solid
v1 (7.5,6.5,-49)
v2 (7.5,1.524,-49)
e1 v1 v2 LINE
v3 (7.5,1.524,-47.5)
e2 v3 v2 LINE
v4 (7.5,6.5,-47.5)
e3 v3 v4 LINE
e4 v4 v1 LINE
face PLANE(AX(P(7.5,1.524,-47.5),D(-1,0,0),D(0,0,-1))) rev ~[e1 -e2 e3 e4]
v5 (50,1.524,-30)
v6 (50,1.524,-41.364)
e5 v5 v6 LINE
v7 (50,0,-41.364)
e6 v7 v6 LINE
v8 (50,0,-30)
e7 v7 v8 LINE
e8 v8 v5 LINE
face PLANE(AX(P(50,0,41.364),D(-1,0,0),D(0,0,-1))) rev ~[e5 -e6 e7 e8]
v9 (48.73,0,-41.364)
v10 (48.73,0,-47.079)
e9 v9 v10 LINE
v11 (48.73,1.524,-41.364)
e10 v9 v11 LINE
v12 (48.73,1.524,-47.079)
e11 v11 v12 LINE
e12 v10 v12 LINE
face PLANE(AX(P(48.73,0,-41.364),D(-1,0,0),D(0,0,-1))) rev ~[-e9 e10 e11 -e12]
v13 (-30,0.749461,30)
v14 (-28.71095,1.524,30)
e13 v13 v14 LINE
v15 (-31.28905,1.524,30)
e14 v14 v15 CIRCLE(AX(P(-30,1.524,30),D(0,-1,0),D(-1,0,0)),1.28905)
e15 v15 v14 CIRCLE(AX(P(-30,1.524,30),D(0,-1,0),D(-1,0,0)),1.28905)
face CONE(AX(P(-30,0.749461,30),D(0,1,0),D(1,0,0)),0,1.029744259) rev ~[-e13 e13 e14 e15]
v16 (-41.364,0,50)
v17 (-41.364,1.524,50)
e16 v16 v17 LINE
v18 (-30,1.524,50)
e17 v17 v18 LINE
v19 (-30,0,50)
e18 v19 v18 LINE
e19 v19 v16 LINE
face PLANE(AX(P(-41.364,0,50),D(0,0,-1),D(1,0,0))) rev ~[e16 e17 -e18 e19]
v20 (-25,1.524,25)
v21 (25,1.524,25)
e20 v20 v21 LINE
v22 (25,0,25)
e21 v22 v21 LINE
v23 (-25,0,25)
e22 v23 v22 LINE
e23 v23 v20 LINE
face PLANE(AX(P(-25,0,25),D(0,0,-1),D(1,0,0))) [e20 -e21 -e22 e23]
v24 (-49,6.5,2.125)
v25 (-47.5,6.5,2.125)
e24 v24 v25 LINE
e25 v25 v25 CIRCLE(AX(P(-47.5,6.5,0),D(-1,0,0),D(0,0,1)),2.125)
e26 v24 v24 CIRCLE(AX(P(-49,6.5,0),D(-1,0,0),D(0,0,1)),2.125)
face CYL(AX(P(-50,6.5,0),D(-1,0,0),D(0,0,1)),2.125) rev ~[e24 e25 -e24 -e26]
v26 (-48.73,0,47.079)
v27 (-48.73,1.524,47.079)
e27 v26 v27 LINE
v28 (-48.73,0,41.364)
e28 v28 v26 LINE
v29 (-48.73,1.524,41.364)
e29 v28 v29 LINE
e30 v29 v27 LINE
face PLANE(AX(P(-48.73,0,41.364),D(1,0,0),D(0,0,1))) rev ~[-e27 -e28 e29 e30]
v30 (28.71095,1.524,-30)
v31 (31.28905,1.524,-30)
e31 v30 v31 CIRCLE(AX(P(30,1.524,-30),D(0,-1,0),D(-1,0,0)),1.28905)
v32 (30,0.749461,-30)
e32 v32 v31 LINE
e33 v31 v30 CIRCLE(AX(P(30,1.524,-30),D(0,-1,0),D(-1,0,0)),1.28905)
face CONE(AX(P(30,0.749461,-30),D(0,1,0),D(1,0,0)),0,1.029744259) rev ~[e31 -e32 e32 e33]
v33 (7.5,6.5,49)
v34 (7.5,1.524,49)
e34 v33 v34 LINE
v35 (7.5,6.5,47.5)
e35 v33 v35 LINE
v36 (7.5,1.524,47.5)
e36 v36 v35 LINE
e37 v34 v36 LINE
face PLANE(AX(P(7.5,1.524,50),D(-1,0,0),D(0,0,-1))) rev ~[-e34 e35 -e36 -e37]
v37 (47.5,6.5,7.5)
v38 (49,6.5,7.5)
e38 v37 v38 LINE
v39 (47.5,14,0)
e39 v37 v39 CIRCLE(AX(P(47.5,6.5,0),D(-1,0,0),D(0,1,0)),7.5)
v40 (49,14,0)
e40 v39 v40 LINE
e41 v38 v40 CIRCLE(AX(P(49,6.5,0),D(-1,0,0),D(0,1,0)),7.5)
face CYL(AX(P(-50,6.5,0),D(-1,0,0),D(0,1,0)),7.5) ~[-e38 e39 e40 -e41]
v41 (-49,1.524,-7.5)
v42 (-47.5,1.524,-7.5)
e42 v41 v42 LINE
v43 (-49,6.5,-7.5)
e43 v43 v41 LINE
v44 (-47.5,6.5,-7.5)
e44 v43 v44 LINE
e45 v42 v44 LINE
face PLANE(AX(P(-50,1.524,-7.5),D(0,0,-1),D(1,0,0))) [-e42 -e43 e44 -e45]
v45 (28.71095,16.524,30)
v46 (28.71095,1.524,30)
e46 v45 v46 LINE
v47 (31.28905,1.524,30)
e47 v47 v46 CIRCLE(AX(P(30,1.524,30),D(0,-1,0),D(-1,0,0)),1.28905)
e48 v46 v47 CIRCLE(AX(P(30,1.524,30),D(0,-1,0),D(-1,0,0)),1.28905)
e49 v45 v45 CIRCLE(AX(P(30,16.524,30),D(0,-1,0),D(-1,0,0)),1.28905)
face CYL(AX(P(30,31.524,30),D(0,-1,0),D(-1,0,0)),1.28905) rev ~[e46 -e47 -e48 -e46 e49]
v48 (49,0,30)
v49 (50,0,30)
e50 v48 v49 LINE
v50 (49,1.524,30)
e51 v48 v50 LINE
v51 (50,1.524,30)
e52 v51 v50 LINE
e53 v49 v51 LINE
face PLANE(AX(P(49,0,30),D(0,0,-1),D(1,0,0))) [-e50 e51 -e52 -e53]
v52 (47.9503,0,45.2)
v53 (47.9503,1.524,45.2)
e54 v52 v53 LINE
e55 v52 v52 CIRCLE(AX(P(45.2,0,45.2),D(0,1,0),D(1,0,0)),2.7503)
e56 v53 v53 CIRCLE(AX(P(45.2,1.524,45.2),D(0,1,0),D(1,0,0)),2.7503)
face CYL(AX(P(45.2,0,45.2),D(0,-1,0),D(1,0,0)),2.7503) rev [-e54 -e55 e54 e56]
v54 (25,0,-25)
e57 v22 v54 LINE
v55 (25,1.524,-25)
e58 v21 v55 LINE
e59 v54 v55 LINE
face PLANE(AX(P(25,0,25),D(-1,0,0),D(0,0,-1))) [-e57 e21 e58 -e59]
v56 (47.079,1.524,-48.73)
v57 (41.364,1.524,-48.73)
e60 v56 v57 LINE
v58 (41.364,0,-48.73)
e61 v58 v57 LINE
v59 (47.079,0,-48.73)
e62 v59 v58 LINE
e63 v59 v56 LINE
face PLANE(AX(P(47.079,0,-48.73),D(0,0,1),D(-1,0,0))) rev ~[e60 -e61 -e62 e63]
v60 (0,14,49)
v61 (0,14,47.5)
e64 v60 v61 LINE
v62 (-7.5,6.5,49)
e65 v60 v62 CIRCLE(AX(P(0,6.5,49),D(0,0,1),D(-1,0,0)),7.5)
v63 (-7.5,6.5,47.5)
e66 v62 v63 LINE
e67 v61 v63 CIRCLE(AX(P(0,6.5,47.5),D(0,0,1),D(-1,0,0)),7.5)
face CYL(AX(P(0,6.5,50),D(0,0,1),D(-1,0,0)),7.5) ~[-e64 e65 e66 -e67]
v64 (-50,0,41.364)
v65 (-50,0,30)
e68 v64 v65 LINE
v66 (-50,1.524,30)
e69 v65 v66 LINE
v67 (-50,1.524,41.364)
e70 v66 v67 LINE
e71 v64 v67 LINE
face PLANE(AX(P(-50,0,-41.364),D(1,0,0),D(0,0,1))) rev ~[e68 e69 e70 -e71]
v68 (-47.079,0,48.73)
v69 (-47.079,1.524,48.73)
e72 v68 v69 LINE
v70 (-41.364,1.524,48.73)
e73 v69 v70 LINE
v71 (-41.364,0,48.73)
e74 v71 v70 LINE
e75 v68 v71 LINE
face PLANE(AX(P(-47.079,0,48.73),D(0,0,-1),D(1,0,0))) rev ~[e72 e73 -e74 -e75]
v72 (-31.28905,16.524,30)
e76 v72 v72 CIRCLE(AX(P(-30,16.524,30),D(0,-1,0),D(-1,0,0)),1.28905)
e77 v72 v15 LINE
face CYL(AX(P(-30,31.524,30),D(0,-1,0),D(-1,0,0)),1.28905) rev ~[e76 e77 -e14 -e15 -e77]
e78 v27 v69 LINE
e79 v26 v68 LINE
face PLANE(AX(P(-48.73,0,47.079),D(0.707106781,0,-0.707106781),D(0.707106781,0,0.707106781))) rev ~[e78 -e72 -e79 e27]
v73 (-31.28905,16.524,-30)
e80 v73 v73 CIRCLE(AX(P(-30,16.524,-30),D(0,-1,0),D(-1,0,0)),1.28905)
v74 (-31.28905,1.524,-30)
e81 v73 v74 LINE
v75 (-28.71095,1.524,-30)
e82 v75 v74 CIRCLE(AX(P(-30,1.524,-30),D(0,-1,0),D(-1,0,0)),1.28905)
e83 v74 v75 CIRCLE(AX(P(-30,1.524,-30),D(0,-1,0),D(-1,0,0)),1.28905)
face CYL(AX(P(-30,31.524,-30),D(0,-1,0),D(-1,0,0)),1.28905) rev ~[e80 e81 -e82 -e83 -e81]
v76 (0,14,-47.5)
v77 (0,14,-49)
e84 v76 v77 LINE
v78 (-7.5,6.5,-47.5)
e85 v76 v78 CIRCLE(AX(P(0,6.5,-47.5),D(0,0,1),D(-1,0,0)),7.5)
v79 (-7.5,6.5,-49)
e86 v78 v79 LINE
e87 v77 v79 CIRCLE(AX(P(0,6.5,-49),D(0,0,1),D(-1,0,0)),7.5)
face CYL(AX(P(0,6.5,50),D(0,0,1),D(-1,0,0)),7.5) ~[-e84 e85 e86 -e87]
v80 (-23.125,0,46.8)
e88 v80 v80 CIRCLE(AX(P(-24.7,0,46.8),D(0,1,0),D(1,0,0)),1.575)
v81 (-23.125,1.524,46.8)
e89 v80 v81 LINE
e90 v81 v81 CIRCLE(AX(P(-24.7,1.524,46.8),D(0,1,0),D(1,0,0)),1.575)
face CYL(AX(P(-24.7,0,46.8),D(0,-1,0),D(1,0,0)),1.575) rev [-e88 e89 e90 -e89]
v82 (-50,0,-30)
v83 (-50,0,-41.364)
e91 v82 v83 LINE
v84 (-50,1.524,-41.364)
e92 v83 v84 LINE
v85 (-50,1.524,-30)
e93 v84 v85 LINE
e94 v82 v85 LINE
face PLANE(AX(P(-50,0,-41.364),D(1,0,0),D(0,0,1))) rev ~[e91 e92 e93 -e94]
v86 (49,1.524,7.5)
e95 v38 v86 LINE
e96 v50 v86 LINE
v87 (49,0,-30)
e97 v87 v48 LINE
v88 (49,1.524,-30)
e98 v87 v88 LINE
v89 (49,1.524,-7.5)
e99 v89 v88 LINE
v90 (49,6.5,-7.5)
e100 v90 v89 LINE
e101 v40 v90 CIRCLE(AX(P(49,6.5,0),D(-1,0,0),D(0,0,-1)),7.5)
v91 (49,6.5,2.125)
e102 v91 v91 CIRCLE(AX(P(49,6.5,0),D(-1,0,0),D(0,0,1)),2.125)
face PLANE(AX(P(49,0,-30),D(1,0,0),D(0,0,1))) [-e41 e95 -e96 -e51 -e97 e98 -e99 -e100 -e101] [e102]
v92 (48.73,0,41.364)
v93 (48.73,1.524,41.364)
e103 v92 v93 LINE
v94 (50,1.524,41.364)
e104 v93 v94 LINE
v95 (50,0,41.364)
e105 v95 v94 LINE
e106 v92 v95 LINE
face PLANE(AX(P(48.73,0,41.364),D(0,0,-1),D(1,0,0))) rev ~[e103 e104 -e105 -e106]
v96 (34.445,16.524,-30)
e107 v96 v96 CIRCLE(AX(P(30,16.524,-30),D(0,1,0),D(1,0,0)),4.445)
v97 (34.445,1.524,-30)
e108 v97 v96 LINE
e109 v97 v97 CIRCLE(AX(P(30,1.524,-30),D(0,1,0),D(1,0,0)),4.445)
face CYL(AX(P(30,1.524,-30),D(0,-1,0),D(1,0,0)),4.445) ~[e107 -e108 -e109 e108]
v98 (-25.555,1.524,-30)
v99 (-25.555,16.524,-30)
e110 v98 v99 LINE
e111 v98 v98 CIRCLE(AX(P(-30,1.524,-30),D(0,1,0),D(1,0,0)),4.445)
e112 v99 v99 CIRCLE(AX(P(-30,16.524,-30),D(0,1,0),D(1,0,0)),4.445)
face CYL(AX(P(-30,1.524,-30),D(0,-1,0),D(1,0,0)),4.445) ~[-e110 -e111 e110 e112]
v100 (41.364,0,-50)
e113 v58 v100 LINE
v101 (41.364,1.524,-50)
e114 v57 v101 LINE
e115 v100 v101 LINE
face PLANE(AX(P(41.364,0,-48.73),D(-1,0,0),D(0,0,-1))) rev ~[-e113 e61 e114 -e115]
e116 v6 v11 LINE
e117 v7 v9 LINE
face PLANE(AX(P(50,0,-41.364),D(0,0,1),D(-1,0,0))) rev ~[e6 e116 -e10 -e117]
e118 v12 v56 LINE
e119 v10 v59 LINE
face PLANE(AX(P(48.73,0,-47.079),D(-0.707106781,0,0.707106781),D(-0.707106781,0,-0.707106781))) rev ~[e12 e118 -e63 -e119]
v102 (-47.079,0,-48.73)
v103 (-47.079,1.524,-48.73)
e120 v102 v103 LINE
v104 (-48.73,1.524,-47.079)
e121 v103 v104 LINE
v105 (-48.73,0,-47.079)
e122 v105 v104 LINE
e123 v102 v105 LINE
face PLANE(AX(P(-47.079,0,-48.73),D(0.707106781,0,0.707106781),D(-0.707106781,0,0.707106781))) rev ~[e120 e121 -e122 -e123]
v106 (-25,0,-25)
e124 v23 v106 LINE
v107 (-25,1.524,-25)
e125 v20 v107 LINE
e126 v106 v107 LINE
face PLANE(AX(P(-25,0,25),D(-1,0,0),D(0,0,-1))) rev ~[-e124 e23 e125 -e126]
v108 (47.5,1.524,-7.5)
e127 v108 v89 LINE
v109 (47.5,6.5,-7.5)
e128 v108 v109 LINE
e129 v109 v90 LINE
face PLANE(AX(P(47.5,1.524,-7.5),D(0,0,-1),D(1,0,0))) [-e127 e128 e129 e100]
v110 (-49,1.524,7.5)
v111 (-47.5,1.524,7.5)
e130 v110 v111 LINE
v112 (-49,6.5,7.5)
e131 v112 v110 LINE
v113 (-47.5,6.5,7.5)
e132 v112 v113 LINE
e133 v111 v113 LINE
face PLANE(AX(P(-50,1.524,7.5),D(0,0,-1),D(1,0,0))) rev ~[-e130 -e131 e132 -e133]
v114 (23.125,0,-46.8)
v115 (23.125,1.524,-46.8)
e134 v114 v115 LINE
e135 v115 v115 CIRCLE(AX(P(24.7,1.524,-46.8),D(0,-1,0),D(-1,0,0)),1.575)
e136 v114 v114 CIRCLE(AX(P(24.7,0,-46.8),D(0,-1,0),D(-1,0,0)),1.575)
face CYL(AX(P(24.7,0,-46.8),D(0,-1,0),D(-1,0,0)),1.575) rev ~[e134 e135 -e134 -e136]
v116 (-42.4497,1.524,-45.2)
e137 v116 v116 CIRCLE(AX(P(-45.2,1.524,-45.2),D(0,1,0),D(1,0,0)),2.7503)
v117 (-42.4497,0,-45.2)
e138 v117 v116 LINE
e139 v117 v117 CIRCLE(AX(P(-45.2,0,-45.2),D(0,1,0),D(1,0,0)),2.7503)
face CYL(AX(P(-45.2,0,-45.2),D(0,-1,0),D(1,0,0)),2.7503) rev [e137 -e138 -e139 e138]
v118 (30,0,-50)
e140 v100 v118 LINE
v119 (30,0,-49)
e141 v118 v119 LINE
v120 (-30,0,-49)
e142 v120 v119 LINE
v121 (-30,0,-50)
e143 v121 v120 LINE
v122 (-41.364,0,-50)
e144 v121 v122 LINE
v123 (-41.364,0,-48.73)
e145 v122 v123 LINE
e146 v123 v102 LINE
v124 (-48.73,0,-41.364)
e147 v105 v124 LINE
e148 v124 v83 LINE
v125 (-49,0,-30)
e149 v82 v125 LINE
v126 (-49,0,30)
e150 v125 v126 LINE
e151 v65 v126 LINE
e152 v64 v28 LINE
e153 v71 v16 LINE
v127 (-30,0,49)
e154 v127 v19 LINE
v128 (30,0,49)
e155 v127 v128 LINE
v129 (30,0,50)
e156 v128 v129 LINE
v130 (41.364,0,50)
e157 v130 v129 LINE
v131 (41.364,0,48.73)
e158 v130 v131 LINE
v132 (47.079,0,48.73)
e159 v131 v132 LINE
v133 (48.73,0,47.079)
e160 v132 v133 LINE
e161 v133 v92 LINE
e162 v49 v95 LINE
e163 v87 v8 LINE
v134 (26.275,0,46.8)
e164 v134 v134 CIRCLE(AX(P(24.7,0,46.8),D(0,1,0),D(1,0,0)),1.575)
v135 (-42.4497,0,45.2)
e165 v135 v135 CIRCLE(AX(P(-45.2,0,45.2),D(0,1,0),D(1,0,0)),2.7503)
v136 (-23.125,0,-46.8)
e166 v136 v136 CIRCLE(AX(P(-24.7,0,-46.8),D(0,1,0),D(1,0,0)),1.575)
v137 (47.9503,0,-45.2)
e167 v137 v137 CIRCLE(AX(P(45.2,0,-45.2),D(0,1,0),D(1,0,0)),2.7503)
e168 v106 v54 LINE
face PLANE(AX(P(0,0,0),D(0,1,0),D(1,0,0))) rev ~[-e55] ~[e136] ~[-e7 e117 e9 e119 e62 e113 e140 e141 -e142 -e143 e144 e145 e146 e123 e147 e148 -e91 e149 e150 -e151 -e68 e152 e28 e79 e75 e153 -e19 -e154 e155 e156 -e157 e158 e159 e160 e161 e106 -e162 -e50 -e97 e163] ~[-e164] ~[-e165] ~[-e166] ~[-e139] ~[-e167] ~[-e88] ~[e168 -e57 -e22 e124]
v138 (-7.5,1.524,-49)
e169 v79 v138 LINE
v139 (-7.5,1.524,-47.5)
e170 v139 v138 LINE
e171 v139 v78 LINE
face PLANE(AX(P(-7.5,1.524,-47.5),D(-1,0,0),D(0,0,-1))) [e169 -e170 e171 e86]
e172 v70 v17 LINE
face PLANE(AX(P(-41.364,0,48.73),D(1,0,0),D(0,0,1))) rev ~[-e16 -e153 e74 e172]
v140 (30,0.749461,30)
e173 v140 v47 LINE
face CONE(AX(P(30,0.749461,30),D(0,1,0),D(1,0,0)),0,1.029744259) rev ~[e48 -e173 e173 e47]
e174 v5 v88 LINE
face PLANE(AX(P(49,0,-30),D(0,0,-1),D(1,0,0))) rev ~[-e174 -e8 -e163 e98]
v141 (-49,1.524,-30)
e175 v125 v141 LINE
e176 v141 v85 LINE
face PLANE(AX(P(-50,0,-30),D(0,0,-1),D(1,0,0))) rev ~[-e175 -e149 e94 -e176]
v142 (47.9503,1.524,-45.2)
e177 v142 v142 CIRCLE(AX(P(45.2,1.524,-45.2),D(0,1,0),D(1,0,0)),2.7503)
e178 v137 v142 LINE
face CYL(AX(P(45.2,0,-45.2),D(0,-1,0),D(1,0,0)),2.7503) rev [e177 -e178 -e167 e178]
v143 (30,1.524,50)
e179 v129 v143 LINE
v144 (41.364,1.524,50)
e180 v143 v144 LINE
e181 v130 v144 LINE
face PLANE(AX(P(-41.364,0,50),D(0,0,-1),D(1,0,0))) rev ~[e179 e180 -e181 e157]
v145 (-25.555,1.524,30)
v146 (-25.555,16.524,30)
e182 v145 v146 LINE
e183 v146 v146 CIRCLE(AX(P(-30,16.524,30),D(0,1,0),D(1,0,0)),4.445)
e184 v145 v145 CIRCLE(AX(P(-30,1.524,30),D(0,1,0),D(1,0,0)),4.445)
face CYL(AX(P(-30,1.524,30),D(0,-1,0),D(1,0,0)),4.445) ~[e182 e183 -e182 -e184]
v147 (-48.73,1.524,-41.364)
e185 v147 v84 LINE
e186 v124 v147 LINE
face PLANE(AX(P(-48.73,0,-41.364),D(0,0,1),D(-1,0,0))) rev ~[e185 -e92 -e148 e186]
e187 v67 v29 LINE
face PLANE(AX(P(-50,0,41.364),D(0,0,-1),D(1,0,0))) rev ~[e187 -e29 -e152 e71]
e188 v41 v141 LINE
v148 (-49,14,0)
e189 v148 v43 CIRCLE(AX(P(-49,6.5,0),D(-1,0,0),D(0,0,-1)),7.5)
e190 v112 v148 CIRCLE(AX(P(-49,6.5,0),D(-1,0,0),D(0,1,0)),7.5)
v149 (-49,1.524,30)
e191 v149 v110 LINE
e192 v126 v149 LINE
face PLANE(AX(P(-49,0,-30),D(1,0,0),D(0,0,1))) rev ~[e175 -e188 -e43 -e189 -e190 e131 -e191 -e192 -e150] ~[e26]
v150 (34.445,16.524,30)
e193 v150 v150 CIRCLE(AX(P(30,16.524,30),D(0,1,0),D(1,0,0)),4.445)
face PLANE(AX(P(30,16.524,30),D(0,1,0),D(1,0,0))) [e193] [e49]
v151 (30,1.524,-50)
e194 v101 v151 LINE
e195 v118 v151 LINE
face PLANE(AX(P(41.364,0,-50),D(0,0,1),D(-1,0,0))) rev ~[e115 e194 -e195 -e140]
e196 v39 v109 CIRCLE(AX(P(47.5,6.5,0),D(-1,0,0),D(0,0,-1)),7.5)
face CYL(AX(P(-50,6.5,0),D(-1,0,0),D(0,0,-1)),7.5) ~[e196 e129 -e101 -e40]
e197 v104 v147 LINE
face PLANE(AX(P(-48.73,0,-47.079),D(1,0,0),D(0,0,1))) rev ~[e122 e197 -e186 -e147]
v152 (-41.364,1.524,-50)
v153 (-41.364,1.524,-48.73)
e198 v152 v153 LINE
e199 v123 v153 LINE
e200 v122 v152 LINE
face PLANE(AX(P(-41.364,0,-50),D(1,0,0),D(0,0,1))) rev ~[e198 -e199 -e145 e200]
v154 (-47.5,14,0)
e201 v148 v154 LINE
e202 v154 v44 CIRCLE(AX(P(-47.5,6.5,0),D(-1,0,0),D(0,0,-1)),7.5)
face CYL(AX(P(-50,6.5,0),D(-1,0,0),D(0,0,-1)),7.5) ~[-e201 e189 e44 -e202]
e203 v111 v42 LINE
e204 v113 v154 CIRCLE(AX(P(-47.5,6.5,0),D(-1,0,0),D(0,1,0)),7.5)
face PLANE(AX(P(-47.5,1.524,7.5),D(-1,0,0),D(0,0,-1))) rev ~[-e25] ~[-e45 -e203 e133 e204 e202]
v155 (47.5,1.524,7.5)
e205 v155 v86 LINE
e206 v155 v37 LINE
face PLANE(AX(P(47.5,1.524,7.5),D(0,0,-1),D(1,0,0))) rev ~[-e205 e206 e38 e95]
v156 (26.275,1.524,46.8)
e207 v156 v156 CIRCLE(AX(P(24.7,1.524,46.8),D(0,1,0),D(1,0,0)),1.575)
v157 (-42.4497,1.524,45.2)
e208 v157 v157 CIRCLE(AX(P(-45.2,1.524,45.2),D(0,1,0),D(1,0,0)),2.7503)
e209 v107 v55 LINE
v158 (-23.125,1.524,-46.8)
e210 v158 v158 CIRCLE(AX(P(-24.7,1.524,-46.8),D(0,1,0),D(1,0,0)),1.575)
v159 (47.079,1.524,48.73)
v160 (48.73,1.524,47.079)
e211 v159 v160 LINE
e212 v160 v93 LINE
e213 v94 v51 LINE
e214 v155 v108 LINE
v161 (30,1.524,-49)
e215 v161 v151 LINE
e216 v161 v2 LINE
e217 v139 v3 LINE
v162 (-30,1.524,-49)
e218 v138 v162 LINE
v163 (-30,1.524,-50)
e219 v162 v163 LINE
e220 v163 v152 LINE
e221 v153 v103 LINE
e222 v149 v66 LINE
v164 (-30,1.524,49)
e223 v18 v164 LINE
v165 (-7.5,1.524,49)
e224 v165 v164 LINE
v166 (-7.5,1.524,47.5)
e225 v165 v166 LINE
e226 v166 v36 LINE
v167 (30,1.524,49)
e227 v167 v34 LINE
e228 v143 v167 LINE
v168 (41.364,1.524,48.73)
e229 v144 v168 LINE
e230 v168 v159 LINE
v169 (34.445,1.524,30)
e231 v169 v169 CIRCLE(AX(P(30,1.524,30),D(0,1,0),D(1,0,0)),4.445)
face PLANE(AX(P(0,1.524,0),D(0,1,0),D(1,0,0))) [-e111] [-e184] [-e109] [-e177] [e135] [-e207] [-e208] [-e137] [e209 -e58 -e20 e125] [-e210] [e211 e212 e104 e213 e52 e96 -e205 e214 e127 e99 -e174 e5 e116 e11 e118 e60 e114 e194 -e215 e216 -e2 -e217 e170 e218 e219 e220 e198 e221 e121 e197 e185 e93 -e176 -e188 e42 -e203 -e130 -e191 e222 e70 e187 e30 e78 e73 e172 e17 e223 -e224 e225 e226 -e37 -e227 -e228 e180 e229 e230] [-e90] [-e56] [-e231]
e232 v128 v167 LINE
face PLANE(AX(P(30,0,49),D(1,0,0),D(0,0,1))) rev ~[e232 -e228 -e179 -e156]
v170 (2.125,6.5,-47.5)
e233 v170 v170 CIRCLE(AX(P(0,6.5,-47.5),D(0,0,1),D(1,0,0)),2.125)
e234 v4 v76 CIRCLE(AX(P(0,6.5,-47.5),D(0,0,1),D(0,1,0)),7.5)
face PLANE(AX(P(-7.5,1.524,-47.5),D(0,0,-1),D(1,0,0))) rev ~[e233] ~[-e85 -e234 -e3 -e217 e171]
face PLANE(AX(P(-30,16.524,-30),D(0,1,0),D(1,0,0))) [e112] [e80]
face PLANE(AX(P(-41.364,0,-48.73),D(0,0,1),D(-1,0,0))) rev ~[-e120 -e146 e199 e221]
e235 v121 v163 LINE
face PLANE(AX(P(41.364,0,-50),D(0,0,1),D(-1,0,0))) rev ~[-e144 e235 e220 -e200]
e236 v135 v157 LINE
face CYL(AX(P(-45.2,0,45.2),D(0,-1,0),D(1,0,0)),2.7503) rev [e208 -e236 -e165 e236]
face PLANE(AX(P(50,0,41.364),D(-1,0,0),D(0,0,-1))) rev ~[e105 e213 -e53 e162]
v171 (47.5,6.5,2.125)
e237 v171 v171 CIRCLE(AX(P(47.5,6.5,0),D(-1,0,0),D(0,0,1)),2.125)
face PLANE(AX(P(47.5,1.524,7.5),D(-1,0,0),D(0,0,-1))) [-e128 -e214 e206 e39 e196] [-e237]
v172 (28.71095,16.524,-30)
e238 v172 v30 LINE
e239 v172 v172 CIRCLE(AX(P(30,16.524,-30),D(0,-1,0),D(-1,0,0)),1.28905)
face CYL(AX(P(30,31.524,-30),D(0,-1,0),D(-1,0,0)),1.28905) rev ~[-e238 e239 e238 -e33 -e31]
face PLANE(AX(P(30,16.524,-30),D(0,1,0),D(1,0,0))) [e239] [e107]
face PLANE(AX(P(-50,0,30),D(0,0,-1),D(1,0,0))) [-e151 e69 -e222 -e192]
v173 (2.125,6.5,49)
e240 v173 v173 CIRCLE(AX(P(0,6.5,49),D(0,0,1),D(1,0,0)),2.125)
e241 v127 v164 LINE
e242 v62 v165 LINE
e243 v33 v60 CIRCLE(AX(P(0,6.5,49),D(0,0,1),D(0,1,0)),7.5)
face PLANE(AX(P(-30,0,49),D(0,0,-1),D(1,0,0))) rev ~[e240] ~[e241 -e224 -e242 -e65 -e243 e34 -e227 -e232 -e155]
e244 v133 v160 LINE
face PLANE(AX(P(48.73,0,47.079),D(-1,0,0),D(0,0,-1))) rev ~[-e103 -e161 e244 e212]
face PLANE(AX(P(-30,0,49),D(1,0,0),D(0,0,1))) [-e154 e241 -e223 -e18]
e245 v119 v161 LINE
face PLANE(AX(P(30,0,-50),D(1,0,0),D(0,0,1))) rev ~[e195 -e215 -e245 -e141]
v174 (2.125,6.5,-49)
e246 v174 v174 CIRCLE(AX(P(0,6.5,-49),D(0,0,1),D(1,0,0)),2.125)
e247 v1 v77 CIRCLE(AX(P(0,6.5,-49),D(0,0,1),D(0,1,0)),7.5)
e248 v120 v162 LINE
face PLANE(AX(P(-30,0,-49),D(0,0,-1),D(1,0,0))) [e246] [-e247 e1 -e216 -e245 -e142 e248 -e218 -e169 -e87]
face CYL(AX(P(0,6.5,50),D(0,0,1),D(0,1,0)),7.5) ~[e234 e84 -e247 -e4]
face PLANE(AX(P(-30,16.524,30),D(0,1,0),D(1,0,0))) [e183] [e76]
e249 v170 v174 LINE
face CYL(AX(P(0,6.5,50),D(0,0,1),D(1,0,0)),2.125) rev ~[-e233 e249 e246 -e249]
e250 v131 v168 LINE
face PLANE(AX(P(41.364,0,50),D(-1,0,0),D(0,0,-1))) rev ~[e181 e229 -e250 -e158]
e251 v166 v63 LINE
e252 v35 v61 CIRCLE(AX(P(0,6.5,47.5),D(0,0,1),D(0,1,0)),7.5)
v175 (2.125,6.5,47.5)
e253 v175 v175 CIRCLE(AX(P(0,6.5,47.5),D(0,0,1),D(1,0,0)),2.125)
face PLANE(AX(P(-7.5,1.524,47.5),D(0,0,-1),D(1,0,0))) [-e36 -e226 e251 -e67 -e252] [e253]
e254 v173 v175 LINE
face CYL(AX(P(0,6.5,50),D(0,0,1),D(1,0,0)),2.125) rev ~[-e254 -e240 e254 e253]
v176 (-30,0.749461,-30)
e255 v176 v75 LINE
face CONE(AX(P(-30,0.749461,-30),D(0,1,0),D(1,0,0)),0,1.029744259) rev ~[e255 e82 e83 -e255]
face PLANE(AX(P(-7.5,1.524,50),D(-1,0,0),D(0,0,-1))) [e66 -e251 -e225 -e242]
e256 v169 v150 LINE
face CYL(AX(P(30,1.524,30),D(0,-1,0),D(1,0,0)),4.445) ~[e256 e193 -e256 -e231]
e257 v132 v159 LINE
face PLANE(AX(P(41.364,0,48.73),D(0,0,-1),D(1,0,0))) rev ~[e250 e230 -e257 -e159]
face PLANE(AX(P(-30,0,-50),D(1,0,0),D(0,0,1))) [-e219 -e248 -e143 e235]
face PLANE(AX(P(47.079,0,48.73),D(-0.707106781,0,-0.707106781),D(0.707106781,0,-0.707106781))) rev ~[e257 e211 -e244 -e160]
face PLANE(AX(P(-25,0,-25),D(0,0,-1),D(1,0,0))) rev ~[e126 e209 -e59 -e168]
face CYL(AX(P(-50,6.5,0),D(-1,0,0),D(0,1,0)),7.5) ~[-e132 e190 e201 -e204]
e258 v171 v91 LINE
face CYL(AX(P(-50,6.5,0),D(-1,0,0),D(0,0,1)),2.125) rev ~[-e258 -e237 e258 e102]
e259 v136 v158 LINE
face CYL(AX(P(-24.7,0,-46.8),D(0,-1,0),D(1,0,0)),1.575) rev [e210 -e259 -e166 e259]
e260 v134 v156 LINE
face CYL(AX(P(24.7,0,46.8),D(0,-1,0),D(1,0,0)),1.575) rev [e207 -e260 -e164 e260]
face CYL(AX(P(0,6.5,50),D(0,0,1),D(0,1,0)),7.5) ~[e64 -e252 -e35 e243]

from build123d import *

# Parameters (mm, degrees)
SKETCH1_R                 = 2.7503
SKETCH1_R_2               = 1.575
SKETCH1_W                 = 50
SKETCH1_H                 = 50
BOSS_EXTRUDE1_DEPTH       = 1.524
SKETCH2_W                 = 15
SKETCH2_H                 = 2.5
SKETCH2_W_2               = 2.5
SKETCH2_H_2               = 15
BOSS_EXTRUDE2_DEPTH       = 12.476
SKETCH3_R                 = 2.125
CUT_EXTRUDE1_DEPTH        = 1
CUT_EXTRUDE1_DEPTH_BACK   = 101
SKETCH4_R                 = 2.125
CUT_EXTRUDE2_DEPTH        = 1
CUT_EXTRUDE2_DEPTH_BACK   = 101
SKETCH5_W                 = 60
SKETCH5_H                 = 1
SKETCH5_W_2               = 1
SKETCH5_H_2               = 60
CUT_EXTRUDE3_DEPTH        = 1
CUT_EXTRUDE3_DEPTH_BACK   = 15
SKETCH6_R                 = 4.445
BOSS_EXTRUDE3_DEPTH       = 15
F_5_40_TAPPED_HOLE1_D     = 2.5781
F_5_40_TAPPED_HOLE1_DEPTH = 15
F_5_40_TAPPED_HOLE1_TIP   = 0.774539381


with BuildPart() as part:
    # Sketch1 → Boss-Extrude1 (new body)
    with BuildSketch(Plane(origin=(0, 0, 0), x_dir=(1, 0, 0), z_dir=(0, 1, 0))):
        Polygon((41.364, 50), (-41.364, 50), (-41.364, 48.73), (-47.079, 48.73), (-48.73, 47.079), (-48.73, 41.364), (-50, 41.364), (-50, -41.364), (-48.73, -41.364), (-48.73, -47.079), (-47.079, -48.73), (-41.364, -48.73), (-41.364, -50), (41.364, -50), (41.364, -48.73), (47.079, -48.73), (48.73, -47.079), (48.73, -41.364), (50, -41.364), (50, 41.364), (48.73, 41.364), (48.73, 47.079), (47.079, 48.73), (41.364, 48.73), align=None)
        with Locations((-45.2, -45.2)):
            Circle(SKETCH1_R, mode=Mode.SUBTRACT)
        with Locations((-24.7, -46.8)):
            Circle(SKETCH1_R_2, mode=Mode.SUBTRACT)
        with Locations((24.7, -46.8)):
            Circle(SKETCH1_R_2, mode=Mode.SUBTRACT)
        with Locations((45.2, -45.2)):
            Circle(SKETCH1_R, mode=Mode.SUBTRACT)
        Rectangle(SKETCH1_W, SKETCH1_H, mode=Mode.SUBTRACT)
        with Locations((-45.2, 45.2)):
            Circle(SKETCH1_R, mode=Mode.SUBTRACT)
        with Locations((-24.7, 46.8)):
            Circle(SKETCH1_R_2, mode=Mode.SUBTRACT)
        with BuildLine():
            ThreePointArc((26.275, 46.8), (24.7, 45.225), (23.125, 46.8))
            ThreePointArc((23.125, 46.8), (24.7, 48.375), (26.275, 46.8))
        make_face(mode=Mode.SUBTRACT)
        with Locations((45.2, 45.2)):
            Circle(SKETCH1_R, mode=Mode.SUBTRACT)
    extrude(amount=BOSS_EXTRUDE1_DEPTH)

    # Sketch2 → Boss-Extrude2 (add)
    with BuildSketch(Plane(origin=(0, 1.524, 0), x_dir=(1, 0, 0), z_dir=(0, 1, 0))):
        with Locations((0, 48.75)):
            Rectangle(SKETCH2_W, SKETCH2_H)
        with Locations((48.75, 0)):
            Rectangle(SKETCH2_W_2, SKETCH2_H_2)
        with Locations((0, -48.75)):
            Rectangle(SKETCH2_W, SKETCH2_H)
        with Locations((-48.75, 0)):
            Rectangle(SKETCH2_W_2, SKETCH2_H_2)
    extrude(amount=BOSS_EXTRUDE2_DEPTH)

    # Sketch3 → Cut-Extrude1 (cut, two sides)
    with BuildSketch(Plane.XY.offset(50)) as cut_extrude1_sk:
        with BuildLine():
            ThreePointArc((0, 14), (5.303300859, 11.803300859), (7.5, 6.5))
            Line((7.5, 6.5), (7.5, 14))
            Line((7.5, 14), (0, 14))
        make_face()
        with BuildLine():
            ThreePointArc((-7.5, 6.5), (-5.303300859, 11.803300859), (0, 14))
            Line((0, 14), (-7.5, 14))
            Line((-7.5, 14), (-7.5, 6.5))
        make_face()
        with Locations((0, 6.5)):
            Circle(SKETCH3_R)
    extrude(amount=CUT_EXTRUDE1_DEPTH, mode=Mode.SUBTRACT)
    extrude(cut_extrude1_sk.sketch, amount=-CUT_EXTRUDE1_DEPTH_BACK, mode=Mode.SUBTRACT)

    # Sketch4 → Cut-Extrude2 (cut, two sides)
    with BuildSketch(Plane.ZY.offset(50)) as cut_extrude2_sk:
        with Locations((0, 6.5)):
            Circle(SKETCH4_R)
        with BuildLine():
            ThreePointArc((0, 14), (5.303300859, 11.803300859), (7.5, 6.5))
            Line((7.5, 6.5), (7.5, 14))
            Line((7.5, 14), (0, 14))
        make_face()
        with BuildLine():
            ThreePointArc((-7.5, 6.5), (-5.303300859, 11.803300859), (0, 14))
            Line((0, 14), (-7.5, 14))
            Line((-7.5, 14), (-7.5, 6.5))
        make_face()
    extrude(amount=CUT_EXTRUDE2_DEPTH, mode=Mode.SUBTRACT)
    extrude(cut_extrude2_sk.sketch, amount=-CUT_EXTRUDE2_DEPTH_BACK, mode=Mode.SUBTRACT)

    # Sketch5 → Cut-Extrude3 (cut, two sides)
    with BuildSketch(Plane.XZ) as cut_extrude3_sk:
        with Locations((0, -49.5)):
            Rectangle(SKETCH5_W, SKETCH5_H)
        with Locations((-49.5, 0)):
            Rectangle(SKETCH5_W_2, SKETCH5_H_2)
        with Locations((0, 49.5)):
            Rectangle(SKETCH5_W, SKETCH5_H)
        with Locations((49.5, 0)):
            Rectangle(SKETCH5_W_2, SKETCH5_H_2)
    extrude(amount=CUT_EXTRUDE3_DEPTH, mode=Mode.SUBTRACT)
    extrude(cut_extrude3_sk.sketch, amount=-CUT_EXTRUDE3_DEPTH_BACK, mode=Mode.SUBTRACT)

    # Sketch6 → Boss-Extrude3 (add)
    with BuildSketch(Plane(origin=(0, 1.524, 0), x_dir=(1, 0, 0), z_dir=(0, 1, 0))):
        with Locations((30, 30)):
            Circle(SKETCH6_R)
        with Locations((30, -30)):
            Circle(SKETCH6_R)
        with Locations((-30, -30)):
            Circle(SKETCH6_R)
        with Locations((-30, 30)):
            Circle(SKETCH6_R)
    extrude(amount=BOSS_EXTRUDE3_DEPTH)

    # #5-40 Tapped Hole1
    with Locations(Plane(origin=(0, 16.524, 0), x_dir=(1, 0, 0), z_dir=(0, 1, 0))):
        with Locations((-17.222965343, 16.834933913), (-30, 30), (-30, -30), (30, -30), (30, 30)):
            Hole(F_5_40_TAPPED_HOLE1_D / 2, depth=F_5_40_TAPPED_HOLE1_DEPTH)
            with Locations((0, 0, -(F_5_40_TAPPED_HOLE1_DEPTH + F_5_40_TAPPED_HOLE1_TIP / 2))):  # 118° drill point
                Cone(0, F_5_40_TAPPED_HOLE1_D / 2, F_5_40_TAPPED_HOLE1_TIP, mode=Mode.SUBTRACT)


solid = part.part
